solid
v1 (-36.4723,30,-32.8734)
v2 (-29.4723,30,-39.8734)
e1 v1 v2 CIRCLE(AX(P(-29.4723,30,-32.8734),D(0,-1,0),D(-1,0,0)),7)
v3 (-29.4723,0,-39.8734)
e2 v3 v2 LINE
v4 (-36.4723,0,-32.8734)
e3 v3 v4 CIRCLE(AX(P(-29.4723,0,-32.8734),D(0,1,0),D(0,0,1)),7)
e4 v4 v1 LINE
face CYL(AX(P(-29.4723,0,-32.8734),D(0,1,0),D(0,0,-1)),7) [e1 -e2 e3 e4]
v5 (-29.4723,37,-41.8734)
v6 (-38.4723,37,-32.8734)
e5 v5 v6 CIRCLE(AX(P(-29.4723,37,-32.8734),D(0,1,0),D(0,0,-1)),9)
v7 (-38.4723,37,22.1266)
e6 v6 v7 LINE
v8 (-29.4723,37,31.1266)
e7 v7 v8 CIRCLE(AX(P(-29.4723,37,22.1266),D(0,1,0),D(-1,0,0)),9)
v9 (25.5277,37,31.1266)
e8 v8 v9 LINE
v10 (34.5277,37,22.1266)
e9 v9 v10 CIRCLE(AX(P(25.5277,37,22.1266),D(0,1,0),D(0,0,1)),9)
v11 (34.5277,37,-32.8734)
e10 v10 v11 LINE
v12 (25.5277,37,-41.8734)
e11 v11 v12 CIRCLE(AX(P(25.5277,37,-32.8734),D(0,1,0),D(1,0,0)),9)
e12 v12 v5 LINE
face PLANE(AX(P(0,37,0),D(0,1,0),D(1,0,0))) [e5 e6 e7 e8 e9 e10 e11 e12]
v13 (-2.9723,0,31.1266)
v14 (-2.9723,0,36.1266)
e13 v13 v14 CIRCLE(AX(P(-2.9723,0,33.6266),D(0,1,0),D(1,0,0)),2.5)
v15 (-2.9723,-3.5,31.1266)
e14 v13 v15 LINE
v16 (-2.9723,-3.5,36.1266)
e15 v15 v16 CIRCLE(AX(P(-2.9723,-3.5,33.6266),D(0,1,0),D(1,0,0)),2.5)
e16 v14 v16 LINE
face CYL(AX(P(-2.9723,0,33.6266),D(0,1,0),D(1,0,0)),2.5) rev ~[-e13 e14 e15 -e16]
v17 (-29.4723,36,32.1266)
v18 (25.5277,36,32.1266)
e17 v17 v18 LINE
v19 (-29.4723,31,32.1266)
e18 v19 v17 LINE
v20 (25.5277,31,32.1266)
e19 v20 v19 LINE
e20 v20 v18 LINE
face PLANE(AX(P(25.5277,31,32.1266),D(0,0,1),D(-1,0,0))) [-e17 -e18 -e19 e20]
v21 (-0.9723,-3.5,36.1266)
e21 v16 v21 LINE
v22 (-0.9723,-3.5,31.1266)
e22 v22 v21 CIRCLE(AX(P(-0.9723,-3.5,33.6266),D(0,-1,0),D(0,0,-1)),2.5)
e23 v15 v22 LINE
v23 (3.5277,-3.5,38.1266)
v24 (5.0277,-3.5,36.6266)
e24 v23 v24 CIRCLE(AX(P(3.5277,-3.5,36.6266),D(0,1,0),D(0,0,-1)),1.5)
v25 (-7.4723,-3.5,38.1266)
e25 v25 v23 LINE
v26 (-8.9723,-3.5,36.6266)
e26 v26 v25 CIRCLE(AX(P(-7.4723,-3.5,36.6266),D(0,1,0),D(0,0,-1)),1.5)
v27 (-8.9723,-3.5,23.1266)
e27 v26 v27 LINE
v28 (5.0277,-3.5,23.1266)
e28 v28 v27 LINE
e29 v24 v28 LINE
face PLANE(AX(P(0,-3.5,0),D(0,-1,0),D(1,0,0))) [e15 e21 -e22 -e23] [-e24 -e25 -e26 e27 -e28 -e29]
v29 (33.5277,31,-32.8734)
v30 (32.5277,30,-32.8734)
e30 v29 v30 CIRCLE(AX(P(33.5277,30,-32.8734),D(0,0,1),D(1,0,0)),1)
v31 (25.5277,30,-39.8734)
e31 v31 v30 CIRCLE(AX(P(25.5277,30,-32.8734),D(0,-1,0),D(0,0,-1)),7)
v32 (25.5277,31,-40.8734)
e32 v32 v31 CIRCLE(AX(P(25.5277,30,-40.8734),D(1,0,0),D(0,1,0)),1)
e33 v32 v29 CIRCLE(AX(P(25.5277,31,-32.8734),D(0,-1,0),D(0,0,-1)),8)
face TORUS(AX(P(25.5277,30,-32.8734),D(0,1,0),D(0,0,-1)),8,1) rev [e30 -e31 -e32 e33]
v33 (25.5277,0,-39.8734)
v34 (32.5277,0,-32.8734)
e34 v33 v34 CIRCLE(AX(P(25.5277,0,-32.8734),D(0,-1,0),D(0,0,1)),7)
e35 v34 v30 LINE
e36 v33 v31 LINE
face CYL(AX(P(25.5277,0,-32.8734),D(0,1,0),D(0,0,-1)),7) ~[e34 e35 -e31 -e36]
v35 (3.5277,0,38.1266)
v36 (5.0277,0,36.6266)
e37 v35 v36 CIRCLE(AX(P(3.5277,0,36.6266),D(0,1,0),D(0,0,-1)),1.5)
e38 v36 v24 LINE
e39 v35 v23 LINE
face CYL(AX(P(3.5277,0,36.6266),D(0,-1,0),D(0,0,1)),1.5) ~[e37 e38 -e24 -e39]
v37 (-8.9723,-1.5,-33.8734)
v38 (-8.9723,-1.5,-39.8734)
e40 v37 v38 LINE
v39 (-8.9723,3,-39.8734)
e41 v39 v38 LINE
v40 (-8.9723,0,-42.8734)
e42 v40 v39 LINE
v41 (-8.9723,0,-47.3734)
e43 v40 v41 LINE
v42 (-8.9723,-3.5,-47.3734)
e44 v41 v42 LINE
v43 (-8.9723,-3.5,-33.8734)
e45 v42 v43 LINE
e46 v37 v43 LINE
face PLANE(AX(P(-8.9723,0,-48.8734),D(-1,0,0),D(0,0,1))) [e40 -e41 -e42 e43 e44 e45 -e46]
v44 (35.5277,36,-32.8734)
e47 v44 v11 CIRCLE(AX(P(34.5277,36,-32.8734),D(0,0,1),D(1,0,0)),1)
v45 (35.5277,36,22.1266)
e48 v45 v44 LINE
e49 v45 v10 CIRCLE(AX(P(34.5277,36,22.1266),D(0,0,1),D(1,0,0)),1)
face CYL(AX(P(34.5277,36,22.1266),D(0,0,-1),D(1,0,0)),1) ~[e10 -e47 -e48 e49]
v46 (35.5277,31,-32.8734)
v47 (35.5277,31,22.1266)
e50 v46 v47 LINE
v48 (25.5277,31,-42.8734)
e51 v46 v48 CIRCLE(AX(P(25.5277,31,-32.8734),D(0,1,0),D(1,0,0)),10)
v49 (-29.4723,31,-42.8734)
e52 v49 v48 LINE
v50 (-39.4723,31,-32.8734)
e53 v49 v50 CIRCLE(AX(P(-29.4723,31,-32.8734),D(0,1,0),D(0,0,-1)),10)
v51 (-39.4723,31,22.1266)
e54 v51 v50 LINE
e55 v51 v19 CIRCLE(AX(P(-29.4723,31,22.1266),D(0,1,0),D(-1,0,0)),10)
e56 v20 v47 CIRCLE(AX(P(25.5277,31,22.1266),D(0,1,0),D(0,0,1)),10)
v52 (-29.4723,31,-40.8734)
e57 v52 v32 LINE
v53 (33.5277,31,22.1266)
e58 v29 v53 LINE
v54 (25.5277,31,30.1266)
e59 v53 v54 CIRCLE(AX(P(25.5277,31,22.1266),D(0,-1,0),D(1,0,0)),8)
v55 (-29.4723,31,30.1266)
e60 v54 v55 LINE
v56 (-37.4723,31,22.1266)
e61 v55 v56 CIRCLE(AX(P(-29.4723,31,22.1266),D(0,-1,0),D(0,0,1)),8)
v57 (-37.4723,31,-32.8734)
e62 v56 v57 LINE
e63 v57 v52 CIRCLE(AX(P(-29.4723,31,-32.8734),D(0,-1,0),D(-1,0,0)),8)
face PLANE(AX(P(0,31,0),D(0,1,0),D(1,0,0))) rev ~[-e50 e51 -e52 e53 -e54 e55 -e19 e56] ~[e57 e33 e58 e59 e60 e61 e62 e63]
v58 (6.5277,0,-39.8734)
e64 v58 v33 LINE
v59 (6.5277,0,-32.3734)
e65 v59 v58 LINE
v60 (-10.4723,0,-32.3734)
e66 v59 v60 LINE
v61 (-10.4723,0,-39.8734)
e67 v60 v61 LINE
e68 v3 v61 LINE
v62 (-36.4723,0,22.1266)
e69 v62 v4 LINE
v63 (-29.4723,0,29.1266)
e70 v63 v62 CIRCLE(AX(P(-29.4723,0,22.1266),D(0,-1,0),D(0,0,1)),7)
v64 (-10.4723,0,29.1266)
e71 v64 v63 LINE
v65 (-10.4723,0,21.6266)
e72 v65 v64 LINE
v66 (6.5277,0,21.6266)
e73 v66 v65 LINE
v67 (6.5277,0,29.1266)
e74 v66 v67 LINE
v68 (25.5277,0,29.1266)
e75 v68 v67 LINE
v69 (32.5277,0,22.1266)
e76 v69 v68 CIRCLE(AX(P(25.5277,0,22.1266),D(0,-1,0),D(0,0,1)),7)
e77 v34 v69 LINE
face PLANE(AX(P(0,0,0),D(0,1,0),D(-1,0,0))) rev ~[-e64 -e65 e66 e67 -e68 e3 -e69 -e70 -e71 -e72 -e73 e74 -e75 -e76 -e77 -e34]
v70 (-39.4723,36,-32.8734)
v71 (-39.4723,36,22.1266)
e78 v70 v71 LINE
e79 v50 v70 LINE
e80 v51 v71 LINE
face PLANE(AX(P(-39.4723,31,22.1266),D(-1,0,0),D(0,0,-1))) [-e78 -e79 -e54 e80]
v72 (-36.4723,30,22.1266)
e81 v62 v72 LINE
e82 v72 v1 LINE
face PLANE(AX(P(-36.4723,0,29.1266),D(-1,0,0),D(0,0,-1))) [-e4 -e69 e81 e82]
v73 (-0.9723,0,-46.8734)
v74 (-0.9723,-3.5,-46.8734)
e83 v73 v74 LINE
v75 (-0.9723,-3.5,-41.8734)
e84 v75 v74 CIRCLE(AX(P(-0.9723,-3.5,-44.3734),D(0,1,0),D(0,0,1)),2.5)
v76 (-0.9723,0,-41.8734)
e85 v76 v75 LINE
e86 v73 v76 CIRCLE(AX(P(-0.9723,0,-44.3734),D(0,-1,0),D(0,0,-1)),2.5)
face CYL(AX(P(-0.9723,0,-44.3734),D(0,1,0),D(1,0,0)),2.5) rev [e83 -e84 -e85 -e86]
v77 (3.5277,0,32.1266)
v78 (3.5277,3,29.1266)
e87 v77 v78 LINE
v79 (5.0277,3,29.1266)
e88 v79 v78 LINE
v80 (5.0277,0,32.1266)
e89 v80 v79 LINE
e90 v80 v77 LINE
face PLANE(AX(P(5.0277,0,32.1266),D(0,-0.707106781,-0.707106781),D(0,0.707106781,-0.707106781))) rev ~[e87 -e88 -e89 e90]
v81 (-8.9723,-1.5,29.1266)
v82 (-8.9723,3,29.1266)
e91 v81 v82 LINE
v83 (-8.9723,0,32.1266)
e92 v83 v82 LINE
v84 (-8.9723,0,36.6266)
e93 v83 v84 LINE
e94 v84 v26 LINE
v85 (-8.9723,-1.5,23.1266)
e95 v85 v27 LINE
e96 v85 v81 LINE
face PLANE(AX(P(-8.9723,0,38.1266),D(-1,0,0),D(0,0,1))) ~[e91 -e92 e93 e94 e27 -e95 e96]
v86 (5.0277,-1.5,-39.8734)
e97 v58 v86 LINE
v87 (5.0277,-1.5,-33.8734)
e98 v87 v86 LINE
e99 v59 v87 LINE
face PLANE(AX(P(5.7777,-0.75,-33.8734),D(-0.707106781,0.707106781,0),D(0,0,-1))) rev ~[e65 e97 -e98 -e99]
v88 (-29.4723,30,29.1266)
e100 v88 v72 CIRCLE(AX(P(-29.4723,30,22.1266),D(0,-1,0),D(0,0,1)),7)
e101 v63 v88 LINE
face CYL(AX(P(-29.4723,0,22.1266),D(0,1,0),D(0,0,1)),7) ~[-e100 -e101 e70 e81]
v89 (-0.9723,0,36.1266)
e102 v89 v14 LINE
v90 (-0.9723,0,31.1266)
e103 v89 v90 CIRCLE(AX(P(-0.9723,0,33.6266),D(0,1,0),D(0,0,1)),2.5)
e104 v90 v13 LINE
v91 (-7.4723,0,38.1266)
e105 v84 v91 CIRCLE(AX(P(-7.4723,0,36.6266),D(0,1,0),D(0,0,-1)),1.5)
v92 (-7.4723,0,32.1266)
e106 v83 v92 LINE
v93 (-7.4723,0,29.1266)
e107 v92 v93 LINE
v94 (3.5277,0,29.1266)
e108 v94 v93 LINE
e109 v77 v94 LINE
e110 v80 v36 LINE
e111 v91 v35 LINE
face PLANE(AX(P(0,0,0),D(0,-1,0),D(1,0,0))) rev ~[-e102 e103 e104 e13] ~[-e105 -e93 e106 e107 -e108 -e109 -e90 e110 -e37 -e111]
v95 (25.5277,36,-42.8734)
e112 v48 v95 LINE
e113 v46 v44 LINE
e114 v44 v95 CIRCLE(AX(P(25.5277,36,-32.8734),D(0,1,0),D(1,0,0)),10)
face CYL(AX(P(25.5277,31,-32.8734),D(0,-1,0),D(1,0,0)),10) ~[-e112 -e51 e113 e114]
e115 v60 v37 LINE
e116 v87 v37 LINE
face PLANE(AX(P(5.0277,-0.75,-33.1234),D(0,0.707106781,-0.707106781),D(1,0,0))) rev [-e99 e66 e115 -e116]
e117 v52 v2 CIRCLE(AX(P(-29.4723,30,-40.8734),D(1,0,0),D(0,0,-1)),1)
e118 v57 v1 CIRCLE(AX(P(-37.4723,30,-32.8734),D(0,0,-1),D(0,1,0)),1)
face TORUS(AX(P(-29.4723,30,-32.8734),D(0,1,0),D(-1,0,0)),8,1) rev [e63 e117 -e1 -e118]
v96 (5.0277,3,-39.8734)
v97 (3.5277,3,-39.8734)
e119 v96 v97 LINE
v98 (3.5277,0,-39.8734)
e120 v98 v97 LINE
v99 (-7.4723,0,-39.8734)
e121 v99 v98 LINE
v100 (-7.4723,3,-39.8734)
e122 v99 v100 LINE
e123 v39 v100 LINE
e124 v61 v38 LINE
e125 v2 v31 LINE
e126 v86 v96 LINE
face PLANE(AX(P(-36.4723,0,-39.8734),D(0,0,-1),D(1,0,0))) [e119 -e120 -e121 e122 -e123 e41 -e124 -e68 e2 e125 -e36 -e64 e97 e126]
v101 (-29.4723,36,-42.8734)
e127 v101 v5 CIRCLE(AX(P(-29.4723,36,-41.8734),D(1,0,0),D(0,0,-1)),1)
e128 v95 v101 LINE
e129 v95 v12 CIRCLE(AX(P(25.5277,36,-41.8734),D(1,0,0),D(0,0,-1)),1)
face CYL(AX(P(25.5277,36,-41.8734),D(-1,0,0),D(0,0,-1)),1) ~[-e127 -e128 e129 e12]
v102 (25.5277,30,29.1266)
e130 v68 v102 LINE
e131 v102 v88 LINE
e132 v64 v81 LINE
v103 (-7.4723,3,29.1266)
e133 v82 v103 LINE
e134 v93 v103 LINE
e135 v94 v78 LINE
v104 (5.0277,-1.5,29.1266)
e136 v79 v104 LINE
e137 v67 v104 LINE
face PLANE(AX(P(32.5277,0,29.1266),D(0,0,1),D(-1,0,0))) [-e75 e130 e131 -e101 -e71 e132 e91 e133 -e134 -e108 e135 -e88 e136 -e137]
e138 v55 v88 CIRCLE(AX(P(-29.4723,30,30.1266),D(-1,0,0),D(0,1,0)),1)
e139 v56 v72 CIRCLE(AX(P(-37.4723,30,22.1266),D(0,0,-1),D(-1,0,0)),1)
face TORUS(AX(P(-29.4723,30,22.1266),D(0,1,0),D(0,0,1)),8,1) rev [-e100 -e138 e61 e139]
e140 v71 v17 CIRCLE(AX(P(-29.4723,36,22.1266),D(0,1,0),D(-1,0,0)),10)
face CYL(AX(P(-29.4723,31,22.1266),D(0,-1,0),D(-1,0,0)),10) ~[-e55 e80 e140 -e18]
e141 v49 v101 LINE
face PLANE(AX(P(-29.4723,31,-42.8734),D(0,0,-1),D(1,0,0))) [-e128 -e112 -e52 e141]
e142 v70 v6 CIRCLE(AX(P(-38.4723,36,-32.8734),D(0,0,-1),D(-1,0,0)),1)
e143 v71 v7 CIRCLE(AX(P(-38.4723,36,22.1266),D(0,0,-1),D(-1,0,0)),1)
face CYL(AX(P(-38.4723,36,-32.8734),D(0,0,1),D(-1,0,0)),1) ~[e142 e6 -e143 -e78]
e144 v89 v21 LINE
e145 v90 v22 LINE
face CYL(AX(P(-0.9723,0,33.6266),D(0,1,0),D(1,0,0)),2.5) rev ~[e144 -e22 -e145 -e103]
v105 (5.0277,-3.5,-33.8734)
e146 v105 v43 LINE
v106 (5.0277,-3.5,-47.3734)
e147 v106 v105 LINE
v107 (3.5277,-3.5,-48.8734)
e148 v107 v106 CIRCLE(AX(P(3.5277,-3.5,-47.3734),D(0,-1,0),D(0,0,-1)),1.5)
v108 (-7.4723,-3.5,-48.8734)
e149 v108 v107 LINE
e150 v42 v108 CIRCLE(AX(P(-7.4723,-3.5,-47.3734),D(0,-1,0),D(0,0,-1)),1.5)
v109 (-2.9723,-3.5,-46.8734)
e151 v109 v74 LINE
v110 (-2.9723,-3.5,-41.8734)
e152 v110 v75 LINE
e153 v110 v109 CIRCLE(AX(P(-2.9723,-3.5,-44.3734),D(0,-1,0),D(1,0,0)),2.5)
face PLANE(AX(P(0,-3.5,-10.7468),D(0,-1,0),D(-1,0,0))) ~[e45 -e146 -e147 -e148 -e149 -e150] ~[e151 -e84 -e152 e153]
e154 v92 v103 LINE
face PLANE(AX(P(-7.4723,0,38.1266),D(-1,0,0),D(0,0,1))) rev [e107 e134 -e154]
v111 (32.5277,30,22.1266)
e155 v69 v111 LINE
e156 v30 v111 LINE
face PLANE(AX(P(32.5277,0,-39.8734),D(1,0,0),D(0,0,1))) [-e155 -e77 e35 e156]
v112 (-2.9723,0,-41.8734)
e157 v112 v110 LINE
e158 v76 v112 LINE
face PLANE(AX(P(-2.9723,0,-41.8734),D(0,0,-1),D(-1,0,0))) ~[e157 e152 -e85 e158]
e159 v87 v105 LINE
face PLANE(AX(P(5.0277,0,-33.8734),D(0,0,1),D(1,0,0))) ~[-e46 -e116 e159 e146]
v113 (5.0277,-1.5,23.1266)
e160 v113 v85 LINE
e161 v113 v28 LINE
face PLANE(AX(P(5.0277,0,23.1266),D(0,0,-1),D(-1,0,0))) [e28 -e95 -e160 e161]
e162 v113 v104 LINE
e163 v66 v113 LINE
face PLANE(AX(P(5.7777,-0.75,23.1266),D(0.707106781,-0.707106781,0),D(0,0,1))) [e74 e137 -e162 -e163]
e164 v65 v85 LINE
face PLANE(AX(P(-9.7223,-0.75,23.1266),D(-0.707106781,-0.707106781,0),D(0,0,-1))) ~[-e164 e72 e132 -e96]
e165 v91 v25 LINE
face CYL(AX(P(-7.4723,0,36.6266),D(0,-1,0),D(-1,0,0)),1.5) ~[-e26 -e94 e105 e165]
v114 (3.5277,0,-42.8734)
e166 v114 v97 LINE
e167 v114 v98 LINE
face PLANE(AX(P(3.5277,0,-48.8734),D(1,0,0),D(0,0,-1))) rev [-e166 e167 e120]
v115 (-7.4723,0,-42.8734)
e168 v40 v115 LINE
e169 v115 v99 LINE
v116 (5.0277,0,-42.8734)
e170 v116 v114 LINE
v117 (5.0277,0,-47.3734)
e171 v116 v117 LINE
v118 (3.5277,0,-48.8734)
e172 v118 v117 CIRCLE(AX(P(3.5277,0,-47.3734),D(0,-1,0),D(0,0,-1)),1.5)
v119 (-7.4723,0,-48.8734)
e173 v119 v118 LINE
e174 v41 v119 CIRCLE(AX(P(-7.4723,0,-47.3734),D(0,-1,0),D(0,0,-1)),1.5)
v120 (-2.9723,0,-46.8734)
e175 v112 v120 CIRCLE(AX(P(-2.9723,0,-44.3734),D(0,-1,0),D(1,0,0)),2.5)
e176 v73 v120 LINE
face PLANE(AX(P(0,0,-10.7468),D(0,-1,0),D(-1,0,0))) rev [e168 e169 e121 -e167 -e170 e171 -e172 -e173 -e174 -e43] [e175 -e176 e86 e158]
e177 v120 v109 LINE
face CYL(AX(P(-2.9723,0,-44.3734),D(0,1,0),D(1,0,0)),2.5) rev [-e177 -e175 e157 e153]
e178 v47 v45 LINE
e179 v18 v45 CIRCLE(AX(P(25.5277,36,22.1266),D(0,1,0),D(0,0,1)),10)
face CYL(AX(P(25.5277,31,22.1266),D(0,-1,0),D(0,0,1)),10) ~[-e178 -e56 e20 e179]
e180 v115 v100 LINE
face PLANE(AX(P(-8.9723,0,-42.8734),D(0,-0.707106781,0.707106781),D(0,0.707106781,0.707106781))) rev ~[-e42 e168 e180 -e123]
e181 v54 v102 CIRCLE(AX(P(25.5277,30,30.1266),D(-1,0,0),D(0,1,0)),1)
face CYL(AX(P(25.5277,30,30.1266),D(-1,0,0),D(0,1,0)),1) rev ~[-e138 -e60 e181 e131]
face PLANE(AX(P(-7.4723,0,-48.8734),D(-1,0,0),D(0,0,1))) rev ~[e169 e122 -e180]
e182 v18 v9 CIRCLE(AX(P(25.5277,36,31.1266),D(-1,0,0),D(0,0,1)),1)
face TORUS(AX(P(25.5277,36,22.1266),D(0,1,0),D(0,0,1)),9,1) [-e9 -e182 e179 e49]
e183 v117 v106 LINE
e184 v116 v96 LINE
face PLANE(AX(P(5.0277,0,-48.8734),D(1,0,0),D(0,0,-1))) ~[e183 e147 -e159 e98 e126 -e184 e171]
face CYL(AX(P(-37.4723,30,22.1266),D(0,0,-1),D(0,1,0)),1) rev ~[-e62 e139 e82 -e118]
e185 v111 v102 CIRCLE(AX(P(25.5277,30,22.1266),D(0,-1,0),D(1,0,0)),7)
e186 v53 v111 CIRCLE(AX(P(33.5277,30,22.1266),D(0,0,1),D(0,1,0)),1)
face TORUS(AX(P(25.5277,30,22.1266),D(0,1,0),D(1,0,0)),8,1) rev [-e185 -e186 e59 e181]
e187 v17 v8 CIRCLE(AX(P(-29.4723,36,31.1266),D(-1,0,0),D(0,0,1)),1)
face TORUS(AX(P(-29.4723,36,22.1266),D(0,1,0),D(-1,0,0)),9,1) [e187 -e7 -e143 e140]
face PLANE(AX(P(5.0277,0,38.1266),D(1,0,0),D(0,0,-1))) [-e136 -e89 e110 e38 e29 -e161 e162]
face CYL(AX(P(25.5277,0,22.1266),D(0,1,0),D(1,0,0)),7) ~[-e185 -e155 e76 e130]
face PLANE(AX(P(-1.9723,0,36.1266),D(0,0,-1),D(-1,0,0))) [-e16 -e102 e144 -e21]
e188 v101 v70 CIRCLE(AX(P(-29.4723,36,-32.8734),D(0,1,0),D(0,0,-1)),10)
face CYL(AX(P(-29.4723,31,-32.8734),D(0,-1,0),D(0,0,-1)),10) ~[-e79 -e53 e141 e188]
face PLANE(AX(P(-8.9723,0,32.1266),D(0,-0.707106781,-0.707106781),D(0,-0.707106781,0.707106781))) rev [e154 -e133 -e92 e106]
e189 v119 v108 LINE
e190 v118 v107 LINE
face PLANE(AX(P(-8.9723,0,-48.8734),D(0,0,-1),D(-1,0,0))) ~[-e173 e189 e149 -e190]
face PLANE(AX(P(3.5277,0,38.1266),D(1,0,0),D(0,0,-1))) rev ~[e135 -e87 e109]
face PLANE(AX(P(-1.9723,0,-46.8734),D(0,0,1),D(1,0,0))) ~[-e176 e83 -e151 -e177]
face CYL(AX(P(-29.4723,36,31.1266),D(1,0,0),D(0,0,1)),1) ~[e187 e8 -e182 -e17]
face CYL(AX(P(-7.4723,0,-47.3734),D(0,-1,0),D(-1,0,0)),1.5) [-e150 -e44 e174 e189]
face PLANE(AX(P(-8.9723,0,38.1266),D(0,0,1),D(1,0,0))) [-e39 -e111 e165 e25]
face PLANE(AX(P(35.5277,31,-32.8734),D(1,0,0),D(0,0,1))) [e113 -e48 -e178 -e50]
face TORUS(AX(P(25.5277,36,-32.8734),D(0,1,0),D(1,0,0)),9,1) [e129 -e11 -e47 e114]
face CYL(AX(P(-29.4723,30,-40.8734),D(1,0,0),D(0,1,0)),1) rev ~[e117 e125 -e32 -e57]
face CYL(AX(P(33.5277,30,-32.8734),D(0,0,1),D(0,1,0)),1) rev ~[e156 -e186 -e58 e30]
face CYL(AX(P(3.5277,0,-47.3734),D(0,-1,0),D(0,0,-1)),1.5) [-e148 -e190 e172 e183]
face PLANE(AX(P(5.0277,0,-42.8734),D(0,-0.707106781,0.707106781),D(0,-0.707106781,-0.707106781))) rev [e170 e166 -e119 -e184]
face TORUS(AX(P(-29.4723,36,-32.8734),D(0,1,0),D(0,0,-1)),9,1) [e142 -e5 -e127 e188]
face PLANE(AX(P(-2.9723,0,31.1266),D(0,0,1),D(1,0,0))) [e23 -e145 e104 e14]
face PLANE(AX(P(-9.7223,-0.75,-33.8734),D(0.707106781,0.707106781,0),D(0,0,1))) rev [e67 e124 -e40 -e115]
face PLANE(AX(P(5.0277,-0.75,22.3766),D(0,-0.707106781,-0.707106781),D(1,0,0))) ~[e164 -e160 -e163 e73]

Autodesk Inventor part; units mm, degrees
ref_plane "YZ Plane" through (0, 0, 0) normal (1, 0, 0) x (0, 1, 0)
sketch "Sketch1" plane through (0, 0, 0) normal (0, 1, 0) x (-1, 0, 0)
  line L0 (36.4723, -39.8734) -> (-32.5277, -39.8734)
  line L1 (-32.5277, -39.8734) -> (-32.5277, 29.1266)
  line L2 (-32.5277, 29.1266) -> (36.4723, 29.1266)
  line L3 (36.4723, 29.1266) -> (36.4723, -39.8734)
  line L4 (36.4723, -39.8734) -> (-32.5277, 29.1266) construction
  line L5 (-32.5277, -39.8734) -> (36.4723, 29.1266) construction
  point P0 (0, 0)
  point P1 (1.9723, -5.3734)
  dimension "d0" = 69
  dimension "d1" = 69
extrude "Extrusion1" add sketch "Sketch1" along normal blind 31
fillet "Fillet1" radius 7 4 edges at (32.5277, 15.5, 29.1266) (-36.4723, 15.5, 29.1266) (-36.4723, 15.5, -39.8734) (32.5277, 15.5, -39.8734)
sketch "Sketch2" plane through (0, 31, 0) normal (0, 1, 0) x (1, 0, 0)
  arc A0 (32.5277, 32.8734) -> (25.5277, 39.8734) centre (25.5277, 32.8734) ccw projected
  line L0 (25.5277, 39.8734) -> (-29.4723, 39.8734) projected
  arc A1 (-29.4723, 39.8734) -> (-36.4723, 32.8734) centre (-29.4723, 32.8734) ccw projected
  line L1 (-36.4723, 32.8734) -> (-36.4723, -22.1266) projected
  arc A2 (-36.4723, -22.1266) -> (-29.4723, -29.1266) centre (-29.4723, -22.1266) ccw projected
  line L2 (-29.4723, -29.1266) -> (25.5277, -29.1266) projected
  arc A3 (25.5277, -29.1266) -> (32.5277, -22.1266) centre (25.5277, -22.1266) ccw projected
  line L3 (32.5277, -22.1266) -> (32.5277, 32.8734) projected
  line L4 (-29.4723, 42.8734) -> (25.5277, 42.8734)
  arc A4 (35.5277, 32.8734) -> (25.5277, 42.8734) centre (25.5277, 32.8734) ccw
  line L5 (35.5277, 32.8734) -> (35.5277, -22.1266)
  arc A5 (25.5277, -32.1266) -> (35.5277, -22.1266) centre (25.5277, -22.1266) ccw
  line L6 (25.5277, -32.1266) -> (-29.4723, -32.1266)
  arc A6 (-39.4723, -22.1266) -> (-29.4723, -32.1266) centre (-29.4723, -22.1266) ccw
  line L7 (-39.4723, -22.1266) -> (-39.4723, 32.8734)
  arc A7 (-29.4723, 42.8734) -> (-39.4723, 32.8734) centre (-29.4723, 32.8734) ccw
  point P0 (0, 0)
  dimension "d5" = 3
extrude "Extrusion2" add sketch "Sketch2" along normal blind 6 contours L3 A3 L2 A2 L1 A1 L0 A0 | L4 A4 L5 A5 L6 A6 L7 A7
fillet "Fillet2" radius 1 8 edges at (-1.9723, 31, 29.1266) (-34.422, 31, 27.0763) (-36.4723, 31, -5.3734) (-34.422, 31, -37.8232) (-1.9723, 31, -39.8734) (30.4775, 31, -37.8232) (32.5277, 31, -5.3734) (30.4775, 31, 27.0763)
fillet "Fillet3" radius 1 8 edges at (32.5988, 37, 29.1977) (35.5277, 37, -5.3734) (32.5988, 37, -39.9445) (-1.9723, 37, -42.8734) (-36.5433, 37, -39.9445) (-39.4723, 37, -5.3734) (-36.5433, 37, 29.1977) (-1.9723, 37, 32.1266)
sketch "Sketch3" plane through (0, 0, 0) normal (0, -1, 0) x (1, 0, 0)
  line L0 (32.5277, -32.8734) -> (32.5277, 22.1266) projected
  line L1 (25.5277, 29.1266) -> (-29.4723, 29.1266) projected
  line L2 (-36.4723, 22.1266) -> (-36.4723, -32.8734) projected
  line L3 (-8.9723, 38.1266) -> (5.0277, 38.1266)
  line L4 (5.0277, 38.1266) -> (5.0277, 23.1266)
  line L5 (5.0277, 23.1266) -> (-8.9723, 23.1266)
  line L6 (-8.9723, 23.1266) -> (-8.9723, 38.1266)
  line L7 (-8.9723, 23.1266) -> (-36.4723, 23.1266)
  line L8 (5.0277, 23.1266) -> (32.5277, 23.1266)
  point P0 (0, 0)
  dimension "d10" = 14
  dimension "d12" = 15
  dimension "d13" = 9
extrude "Extrusion3" add sketch "Sketch3" along normal blind 3.5
chamfer "Chamfer1" distance 1.5 angle 45 3 edges at (-8.9723, 0, 26.1266) (-1.9723, 0, 23.1266) (5.0277, 0, 26.1266)
sketch "Sketch4" plane through (0, 0, 0) normal (0, 1, 0) x (1, 0, 0)
  line L0 (5.0277, -29.1266) -> (-8.9723, -29.1266) projected
  line L1 (-8.9723, -38.1266) -> (5.0277, -38.1266) projected
  line L2 (-1.9723, -38.1266) -> (-1.9723, -29.1266)
  line L3 (-1.9723, -33.6266) -> (-0.9723, -33.6266)
  line L4 (-1.9723, -33.6266) -> (-2.9723, -33.6266)
  circle A0 centre (-2.9723, -33.6266) radius 2.5
  circle A1 centre (-0.9723, -33.6266) radius 2.5
  line L5 (-2.9723, -31.1266) -> (-0.9723, -31.1266)
  line L6 (-0.9723, -31.1266) -> (-0.9723, -36.1266)
  line L7 (-0.9723, -36.1266) -> (-2.9723, -36.1266)
  line L8 (-2.9723, -36.1266) -> (-2.9723, -31.1266)
  point P0 (0, 0)
  dimension "d21" = 5
  dimension "d22" = 5
  dimension "d19" = 1
  dimension "d20" = 1
extrude "Extrusion4" cut sketch "Sketch4" against normal blind 3.5
sketch "Sketch5" plane through (5.0277, 0, 38.1266) normal (1, 0, 0) x (0, 0, -1)
  line L0 (0, 0) -> (9, 0) projected
  line L1 (9, 0) -> (9, 30) projected
  line L2 (9, -1.5) -> (9, 0) projected
  line L3 (9, 0) -> (9, -1.5) projected
  line L4 (9, -1.5) -> (9, 0) projected
  line L5 (9, -1.5) -> (9, 0) projected
  line L6 (9, 30) -> (9, 0) projected
  line L7 (6, 0) -> (9, 3)
  line L8 (6, 0) -> (10.2426, 0) construction
  line L9 (6, 0) -> (9, 0)
  line L10 (9, 3) -> (9, 0)
  point P0 (38.1266, 0)
  dimension "d25" = 45
  dimension "d26" = 3
extrude "Extrusion5" add sketch "Sketch5" against normal blind 1.5
ref_plane "Work Plane1" through (-1.9723, -3.5, 38.1266) normal (1, 0, 0) x (0, 0, -1)
mirror "Mirror1" about plane through (-1.9723, -3.5, 38.1266) normal (1, 0, 0) of "Extrusion5"
fillet "Fillet4" radius 1.5 2 edges at (-8.9723, -1.75, 38.1266) (5.0277, -1.75, 38.1266)
ref_plane "Work Plane2" through (-29.4723, 30, -5.3734) normal (0, 0, 1) x (1, 0, 0)
mirror "Mirror2" about plane through (-29.4723, 30, -5.3734) normal (0, 0, 1) of "Extrusion3", "Chamfer1", "Extrusion4", "Extrusion5", "Mirror1", "Fillet4"
ref_plane "Work Plane3" through (-1.9723, -3.5, -48.8734) normal (-1, 0, 0) x (0, 0, 1)
properties part number "power_conduit_box"
